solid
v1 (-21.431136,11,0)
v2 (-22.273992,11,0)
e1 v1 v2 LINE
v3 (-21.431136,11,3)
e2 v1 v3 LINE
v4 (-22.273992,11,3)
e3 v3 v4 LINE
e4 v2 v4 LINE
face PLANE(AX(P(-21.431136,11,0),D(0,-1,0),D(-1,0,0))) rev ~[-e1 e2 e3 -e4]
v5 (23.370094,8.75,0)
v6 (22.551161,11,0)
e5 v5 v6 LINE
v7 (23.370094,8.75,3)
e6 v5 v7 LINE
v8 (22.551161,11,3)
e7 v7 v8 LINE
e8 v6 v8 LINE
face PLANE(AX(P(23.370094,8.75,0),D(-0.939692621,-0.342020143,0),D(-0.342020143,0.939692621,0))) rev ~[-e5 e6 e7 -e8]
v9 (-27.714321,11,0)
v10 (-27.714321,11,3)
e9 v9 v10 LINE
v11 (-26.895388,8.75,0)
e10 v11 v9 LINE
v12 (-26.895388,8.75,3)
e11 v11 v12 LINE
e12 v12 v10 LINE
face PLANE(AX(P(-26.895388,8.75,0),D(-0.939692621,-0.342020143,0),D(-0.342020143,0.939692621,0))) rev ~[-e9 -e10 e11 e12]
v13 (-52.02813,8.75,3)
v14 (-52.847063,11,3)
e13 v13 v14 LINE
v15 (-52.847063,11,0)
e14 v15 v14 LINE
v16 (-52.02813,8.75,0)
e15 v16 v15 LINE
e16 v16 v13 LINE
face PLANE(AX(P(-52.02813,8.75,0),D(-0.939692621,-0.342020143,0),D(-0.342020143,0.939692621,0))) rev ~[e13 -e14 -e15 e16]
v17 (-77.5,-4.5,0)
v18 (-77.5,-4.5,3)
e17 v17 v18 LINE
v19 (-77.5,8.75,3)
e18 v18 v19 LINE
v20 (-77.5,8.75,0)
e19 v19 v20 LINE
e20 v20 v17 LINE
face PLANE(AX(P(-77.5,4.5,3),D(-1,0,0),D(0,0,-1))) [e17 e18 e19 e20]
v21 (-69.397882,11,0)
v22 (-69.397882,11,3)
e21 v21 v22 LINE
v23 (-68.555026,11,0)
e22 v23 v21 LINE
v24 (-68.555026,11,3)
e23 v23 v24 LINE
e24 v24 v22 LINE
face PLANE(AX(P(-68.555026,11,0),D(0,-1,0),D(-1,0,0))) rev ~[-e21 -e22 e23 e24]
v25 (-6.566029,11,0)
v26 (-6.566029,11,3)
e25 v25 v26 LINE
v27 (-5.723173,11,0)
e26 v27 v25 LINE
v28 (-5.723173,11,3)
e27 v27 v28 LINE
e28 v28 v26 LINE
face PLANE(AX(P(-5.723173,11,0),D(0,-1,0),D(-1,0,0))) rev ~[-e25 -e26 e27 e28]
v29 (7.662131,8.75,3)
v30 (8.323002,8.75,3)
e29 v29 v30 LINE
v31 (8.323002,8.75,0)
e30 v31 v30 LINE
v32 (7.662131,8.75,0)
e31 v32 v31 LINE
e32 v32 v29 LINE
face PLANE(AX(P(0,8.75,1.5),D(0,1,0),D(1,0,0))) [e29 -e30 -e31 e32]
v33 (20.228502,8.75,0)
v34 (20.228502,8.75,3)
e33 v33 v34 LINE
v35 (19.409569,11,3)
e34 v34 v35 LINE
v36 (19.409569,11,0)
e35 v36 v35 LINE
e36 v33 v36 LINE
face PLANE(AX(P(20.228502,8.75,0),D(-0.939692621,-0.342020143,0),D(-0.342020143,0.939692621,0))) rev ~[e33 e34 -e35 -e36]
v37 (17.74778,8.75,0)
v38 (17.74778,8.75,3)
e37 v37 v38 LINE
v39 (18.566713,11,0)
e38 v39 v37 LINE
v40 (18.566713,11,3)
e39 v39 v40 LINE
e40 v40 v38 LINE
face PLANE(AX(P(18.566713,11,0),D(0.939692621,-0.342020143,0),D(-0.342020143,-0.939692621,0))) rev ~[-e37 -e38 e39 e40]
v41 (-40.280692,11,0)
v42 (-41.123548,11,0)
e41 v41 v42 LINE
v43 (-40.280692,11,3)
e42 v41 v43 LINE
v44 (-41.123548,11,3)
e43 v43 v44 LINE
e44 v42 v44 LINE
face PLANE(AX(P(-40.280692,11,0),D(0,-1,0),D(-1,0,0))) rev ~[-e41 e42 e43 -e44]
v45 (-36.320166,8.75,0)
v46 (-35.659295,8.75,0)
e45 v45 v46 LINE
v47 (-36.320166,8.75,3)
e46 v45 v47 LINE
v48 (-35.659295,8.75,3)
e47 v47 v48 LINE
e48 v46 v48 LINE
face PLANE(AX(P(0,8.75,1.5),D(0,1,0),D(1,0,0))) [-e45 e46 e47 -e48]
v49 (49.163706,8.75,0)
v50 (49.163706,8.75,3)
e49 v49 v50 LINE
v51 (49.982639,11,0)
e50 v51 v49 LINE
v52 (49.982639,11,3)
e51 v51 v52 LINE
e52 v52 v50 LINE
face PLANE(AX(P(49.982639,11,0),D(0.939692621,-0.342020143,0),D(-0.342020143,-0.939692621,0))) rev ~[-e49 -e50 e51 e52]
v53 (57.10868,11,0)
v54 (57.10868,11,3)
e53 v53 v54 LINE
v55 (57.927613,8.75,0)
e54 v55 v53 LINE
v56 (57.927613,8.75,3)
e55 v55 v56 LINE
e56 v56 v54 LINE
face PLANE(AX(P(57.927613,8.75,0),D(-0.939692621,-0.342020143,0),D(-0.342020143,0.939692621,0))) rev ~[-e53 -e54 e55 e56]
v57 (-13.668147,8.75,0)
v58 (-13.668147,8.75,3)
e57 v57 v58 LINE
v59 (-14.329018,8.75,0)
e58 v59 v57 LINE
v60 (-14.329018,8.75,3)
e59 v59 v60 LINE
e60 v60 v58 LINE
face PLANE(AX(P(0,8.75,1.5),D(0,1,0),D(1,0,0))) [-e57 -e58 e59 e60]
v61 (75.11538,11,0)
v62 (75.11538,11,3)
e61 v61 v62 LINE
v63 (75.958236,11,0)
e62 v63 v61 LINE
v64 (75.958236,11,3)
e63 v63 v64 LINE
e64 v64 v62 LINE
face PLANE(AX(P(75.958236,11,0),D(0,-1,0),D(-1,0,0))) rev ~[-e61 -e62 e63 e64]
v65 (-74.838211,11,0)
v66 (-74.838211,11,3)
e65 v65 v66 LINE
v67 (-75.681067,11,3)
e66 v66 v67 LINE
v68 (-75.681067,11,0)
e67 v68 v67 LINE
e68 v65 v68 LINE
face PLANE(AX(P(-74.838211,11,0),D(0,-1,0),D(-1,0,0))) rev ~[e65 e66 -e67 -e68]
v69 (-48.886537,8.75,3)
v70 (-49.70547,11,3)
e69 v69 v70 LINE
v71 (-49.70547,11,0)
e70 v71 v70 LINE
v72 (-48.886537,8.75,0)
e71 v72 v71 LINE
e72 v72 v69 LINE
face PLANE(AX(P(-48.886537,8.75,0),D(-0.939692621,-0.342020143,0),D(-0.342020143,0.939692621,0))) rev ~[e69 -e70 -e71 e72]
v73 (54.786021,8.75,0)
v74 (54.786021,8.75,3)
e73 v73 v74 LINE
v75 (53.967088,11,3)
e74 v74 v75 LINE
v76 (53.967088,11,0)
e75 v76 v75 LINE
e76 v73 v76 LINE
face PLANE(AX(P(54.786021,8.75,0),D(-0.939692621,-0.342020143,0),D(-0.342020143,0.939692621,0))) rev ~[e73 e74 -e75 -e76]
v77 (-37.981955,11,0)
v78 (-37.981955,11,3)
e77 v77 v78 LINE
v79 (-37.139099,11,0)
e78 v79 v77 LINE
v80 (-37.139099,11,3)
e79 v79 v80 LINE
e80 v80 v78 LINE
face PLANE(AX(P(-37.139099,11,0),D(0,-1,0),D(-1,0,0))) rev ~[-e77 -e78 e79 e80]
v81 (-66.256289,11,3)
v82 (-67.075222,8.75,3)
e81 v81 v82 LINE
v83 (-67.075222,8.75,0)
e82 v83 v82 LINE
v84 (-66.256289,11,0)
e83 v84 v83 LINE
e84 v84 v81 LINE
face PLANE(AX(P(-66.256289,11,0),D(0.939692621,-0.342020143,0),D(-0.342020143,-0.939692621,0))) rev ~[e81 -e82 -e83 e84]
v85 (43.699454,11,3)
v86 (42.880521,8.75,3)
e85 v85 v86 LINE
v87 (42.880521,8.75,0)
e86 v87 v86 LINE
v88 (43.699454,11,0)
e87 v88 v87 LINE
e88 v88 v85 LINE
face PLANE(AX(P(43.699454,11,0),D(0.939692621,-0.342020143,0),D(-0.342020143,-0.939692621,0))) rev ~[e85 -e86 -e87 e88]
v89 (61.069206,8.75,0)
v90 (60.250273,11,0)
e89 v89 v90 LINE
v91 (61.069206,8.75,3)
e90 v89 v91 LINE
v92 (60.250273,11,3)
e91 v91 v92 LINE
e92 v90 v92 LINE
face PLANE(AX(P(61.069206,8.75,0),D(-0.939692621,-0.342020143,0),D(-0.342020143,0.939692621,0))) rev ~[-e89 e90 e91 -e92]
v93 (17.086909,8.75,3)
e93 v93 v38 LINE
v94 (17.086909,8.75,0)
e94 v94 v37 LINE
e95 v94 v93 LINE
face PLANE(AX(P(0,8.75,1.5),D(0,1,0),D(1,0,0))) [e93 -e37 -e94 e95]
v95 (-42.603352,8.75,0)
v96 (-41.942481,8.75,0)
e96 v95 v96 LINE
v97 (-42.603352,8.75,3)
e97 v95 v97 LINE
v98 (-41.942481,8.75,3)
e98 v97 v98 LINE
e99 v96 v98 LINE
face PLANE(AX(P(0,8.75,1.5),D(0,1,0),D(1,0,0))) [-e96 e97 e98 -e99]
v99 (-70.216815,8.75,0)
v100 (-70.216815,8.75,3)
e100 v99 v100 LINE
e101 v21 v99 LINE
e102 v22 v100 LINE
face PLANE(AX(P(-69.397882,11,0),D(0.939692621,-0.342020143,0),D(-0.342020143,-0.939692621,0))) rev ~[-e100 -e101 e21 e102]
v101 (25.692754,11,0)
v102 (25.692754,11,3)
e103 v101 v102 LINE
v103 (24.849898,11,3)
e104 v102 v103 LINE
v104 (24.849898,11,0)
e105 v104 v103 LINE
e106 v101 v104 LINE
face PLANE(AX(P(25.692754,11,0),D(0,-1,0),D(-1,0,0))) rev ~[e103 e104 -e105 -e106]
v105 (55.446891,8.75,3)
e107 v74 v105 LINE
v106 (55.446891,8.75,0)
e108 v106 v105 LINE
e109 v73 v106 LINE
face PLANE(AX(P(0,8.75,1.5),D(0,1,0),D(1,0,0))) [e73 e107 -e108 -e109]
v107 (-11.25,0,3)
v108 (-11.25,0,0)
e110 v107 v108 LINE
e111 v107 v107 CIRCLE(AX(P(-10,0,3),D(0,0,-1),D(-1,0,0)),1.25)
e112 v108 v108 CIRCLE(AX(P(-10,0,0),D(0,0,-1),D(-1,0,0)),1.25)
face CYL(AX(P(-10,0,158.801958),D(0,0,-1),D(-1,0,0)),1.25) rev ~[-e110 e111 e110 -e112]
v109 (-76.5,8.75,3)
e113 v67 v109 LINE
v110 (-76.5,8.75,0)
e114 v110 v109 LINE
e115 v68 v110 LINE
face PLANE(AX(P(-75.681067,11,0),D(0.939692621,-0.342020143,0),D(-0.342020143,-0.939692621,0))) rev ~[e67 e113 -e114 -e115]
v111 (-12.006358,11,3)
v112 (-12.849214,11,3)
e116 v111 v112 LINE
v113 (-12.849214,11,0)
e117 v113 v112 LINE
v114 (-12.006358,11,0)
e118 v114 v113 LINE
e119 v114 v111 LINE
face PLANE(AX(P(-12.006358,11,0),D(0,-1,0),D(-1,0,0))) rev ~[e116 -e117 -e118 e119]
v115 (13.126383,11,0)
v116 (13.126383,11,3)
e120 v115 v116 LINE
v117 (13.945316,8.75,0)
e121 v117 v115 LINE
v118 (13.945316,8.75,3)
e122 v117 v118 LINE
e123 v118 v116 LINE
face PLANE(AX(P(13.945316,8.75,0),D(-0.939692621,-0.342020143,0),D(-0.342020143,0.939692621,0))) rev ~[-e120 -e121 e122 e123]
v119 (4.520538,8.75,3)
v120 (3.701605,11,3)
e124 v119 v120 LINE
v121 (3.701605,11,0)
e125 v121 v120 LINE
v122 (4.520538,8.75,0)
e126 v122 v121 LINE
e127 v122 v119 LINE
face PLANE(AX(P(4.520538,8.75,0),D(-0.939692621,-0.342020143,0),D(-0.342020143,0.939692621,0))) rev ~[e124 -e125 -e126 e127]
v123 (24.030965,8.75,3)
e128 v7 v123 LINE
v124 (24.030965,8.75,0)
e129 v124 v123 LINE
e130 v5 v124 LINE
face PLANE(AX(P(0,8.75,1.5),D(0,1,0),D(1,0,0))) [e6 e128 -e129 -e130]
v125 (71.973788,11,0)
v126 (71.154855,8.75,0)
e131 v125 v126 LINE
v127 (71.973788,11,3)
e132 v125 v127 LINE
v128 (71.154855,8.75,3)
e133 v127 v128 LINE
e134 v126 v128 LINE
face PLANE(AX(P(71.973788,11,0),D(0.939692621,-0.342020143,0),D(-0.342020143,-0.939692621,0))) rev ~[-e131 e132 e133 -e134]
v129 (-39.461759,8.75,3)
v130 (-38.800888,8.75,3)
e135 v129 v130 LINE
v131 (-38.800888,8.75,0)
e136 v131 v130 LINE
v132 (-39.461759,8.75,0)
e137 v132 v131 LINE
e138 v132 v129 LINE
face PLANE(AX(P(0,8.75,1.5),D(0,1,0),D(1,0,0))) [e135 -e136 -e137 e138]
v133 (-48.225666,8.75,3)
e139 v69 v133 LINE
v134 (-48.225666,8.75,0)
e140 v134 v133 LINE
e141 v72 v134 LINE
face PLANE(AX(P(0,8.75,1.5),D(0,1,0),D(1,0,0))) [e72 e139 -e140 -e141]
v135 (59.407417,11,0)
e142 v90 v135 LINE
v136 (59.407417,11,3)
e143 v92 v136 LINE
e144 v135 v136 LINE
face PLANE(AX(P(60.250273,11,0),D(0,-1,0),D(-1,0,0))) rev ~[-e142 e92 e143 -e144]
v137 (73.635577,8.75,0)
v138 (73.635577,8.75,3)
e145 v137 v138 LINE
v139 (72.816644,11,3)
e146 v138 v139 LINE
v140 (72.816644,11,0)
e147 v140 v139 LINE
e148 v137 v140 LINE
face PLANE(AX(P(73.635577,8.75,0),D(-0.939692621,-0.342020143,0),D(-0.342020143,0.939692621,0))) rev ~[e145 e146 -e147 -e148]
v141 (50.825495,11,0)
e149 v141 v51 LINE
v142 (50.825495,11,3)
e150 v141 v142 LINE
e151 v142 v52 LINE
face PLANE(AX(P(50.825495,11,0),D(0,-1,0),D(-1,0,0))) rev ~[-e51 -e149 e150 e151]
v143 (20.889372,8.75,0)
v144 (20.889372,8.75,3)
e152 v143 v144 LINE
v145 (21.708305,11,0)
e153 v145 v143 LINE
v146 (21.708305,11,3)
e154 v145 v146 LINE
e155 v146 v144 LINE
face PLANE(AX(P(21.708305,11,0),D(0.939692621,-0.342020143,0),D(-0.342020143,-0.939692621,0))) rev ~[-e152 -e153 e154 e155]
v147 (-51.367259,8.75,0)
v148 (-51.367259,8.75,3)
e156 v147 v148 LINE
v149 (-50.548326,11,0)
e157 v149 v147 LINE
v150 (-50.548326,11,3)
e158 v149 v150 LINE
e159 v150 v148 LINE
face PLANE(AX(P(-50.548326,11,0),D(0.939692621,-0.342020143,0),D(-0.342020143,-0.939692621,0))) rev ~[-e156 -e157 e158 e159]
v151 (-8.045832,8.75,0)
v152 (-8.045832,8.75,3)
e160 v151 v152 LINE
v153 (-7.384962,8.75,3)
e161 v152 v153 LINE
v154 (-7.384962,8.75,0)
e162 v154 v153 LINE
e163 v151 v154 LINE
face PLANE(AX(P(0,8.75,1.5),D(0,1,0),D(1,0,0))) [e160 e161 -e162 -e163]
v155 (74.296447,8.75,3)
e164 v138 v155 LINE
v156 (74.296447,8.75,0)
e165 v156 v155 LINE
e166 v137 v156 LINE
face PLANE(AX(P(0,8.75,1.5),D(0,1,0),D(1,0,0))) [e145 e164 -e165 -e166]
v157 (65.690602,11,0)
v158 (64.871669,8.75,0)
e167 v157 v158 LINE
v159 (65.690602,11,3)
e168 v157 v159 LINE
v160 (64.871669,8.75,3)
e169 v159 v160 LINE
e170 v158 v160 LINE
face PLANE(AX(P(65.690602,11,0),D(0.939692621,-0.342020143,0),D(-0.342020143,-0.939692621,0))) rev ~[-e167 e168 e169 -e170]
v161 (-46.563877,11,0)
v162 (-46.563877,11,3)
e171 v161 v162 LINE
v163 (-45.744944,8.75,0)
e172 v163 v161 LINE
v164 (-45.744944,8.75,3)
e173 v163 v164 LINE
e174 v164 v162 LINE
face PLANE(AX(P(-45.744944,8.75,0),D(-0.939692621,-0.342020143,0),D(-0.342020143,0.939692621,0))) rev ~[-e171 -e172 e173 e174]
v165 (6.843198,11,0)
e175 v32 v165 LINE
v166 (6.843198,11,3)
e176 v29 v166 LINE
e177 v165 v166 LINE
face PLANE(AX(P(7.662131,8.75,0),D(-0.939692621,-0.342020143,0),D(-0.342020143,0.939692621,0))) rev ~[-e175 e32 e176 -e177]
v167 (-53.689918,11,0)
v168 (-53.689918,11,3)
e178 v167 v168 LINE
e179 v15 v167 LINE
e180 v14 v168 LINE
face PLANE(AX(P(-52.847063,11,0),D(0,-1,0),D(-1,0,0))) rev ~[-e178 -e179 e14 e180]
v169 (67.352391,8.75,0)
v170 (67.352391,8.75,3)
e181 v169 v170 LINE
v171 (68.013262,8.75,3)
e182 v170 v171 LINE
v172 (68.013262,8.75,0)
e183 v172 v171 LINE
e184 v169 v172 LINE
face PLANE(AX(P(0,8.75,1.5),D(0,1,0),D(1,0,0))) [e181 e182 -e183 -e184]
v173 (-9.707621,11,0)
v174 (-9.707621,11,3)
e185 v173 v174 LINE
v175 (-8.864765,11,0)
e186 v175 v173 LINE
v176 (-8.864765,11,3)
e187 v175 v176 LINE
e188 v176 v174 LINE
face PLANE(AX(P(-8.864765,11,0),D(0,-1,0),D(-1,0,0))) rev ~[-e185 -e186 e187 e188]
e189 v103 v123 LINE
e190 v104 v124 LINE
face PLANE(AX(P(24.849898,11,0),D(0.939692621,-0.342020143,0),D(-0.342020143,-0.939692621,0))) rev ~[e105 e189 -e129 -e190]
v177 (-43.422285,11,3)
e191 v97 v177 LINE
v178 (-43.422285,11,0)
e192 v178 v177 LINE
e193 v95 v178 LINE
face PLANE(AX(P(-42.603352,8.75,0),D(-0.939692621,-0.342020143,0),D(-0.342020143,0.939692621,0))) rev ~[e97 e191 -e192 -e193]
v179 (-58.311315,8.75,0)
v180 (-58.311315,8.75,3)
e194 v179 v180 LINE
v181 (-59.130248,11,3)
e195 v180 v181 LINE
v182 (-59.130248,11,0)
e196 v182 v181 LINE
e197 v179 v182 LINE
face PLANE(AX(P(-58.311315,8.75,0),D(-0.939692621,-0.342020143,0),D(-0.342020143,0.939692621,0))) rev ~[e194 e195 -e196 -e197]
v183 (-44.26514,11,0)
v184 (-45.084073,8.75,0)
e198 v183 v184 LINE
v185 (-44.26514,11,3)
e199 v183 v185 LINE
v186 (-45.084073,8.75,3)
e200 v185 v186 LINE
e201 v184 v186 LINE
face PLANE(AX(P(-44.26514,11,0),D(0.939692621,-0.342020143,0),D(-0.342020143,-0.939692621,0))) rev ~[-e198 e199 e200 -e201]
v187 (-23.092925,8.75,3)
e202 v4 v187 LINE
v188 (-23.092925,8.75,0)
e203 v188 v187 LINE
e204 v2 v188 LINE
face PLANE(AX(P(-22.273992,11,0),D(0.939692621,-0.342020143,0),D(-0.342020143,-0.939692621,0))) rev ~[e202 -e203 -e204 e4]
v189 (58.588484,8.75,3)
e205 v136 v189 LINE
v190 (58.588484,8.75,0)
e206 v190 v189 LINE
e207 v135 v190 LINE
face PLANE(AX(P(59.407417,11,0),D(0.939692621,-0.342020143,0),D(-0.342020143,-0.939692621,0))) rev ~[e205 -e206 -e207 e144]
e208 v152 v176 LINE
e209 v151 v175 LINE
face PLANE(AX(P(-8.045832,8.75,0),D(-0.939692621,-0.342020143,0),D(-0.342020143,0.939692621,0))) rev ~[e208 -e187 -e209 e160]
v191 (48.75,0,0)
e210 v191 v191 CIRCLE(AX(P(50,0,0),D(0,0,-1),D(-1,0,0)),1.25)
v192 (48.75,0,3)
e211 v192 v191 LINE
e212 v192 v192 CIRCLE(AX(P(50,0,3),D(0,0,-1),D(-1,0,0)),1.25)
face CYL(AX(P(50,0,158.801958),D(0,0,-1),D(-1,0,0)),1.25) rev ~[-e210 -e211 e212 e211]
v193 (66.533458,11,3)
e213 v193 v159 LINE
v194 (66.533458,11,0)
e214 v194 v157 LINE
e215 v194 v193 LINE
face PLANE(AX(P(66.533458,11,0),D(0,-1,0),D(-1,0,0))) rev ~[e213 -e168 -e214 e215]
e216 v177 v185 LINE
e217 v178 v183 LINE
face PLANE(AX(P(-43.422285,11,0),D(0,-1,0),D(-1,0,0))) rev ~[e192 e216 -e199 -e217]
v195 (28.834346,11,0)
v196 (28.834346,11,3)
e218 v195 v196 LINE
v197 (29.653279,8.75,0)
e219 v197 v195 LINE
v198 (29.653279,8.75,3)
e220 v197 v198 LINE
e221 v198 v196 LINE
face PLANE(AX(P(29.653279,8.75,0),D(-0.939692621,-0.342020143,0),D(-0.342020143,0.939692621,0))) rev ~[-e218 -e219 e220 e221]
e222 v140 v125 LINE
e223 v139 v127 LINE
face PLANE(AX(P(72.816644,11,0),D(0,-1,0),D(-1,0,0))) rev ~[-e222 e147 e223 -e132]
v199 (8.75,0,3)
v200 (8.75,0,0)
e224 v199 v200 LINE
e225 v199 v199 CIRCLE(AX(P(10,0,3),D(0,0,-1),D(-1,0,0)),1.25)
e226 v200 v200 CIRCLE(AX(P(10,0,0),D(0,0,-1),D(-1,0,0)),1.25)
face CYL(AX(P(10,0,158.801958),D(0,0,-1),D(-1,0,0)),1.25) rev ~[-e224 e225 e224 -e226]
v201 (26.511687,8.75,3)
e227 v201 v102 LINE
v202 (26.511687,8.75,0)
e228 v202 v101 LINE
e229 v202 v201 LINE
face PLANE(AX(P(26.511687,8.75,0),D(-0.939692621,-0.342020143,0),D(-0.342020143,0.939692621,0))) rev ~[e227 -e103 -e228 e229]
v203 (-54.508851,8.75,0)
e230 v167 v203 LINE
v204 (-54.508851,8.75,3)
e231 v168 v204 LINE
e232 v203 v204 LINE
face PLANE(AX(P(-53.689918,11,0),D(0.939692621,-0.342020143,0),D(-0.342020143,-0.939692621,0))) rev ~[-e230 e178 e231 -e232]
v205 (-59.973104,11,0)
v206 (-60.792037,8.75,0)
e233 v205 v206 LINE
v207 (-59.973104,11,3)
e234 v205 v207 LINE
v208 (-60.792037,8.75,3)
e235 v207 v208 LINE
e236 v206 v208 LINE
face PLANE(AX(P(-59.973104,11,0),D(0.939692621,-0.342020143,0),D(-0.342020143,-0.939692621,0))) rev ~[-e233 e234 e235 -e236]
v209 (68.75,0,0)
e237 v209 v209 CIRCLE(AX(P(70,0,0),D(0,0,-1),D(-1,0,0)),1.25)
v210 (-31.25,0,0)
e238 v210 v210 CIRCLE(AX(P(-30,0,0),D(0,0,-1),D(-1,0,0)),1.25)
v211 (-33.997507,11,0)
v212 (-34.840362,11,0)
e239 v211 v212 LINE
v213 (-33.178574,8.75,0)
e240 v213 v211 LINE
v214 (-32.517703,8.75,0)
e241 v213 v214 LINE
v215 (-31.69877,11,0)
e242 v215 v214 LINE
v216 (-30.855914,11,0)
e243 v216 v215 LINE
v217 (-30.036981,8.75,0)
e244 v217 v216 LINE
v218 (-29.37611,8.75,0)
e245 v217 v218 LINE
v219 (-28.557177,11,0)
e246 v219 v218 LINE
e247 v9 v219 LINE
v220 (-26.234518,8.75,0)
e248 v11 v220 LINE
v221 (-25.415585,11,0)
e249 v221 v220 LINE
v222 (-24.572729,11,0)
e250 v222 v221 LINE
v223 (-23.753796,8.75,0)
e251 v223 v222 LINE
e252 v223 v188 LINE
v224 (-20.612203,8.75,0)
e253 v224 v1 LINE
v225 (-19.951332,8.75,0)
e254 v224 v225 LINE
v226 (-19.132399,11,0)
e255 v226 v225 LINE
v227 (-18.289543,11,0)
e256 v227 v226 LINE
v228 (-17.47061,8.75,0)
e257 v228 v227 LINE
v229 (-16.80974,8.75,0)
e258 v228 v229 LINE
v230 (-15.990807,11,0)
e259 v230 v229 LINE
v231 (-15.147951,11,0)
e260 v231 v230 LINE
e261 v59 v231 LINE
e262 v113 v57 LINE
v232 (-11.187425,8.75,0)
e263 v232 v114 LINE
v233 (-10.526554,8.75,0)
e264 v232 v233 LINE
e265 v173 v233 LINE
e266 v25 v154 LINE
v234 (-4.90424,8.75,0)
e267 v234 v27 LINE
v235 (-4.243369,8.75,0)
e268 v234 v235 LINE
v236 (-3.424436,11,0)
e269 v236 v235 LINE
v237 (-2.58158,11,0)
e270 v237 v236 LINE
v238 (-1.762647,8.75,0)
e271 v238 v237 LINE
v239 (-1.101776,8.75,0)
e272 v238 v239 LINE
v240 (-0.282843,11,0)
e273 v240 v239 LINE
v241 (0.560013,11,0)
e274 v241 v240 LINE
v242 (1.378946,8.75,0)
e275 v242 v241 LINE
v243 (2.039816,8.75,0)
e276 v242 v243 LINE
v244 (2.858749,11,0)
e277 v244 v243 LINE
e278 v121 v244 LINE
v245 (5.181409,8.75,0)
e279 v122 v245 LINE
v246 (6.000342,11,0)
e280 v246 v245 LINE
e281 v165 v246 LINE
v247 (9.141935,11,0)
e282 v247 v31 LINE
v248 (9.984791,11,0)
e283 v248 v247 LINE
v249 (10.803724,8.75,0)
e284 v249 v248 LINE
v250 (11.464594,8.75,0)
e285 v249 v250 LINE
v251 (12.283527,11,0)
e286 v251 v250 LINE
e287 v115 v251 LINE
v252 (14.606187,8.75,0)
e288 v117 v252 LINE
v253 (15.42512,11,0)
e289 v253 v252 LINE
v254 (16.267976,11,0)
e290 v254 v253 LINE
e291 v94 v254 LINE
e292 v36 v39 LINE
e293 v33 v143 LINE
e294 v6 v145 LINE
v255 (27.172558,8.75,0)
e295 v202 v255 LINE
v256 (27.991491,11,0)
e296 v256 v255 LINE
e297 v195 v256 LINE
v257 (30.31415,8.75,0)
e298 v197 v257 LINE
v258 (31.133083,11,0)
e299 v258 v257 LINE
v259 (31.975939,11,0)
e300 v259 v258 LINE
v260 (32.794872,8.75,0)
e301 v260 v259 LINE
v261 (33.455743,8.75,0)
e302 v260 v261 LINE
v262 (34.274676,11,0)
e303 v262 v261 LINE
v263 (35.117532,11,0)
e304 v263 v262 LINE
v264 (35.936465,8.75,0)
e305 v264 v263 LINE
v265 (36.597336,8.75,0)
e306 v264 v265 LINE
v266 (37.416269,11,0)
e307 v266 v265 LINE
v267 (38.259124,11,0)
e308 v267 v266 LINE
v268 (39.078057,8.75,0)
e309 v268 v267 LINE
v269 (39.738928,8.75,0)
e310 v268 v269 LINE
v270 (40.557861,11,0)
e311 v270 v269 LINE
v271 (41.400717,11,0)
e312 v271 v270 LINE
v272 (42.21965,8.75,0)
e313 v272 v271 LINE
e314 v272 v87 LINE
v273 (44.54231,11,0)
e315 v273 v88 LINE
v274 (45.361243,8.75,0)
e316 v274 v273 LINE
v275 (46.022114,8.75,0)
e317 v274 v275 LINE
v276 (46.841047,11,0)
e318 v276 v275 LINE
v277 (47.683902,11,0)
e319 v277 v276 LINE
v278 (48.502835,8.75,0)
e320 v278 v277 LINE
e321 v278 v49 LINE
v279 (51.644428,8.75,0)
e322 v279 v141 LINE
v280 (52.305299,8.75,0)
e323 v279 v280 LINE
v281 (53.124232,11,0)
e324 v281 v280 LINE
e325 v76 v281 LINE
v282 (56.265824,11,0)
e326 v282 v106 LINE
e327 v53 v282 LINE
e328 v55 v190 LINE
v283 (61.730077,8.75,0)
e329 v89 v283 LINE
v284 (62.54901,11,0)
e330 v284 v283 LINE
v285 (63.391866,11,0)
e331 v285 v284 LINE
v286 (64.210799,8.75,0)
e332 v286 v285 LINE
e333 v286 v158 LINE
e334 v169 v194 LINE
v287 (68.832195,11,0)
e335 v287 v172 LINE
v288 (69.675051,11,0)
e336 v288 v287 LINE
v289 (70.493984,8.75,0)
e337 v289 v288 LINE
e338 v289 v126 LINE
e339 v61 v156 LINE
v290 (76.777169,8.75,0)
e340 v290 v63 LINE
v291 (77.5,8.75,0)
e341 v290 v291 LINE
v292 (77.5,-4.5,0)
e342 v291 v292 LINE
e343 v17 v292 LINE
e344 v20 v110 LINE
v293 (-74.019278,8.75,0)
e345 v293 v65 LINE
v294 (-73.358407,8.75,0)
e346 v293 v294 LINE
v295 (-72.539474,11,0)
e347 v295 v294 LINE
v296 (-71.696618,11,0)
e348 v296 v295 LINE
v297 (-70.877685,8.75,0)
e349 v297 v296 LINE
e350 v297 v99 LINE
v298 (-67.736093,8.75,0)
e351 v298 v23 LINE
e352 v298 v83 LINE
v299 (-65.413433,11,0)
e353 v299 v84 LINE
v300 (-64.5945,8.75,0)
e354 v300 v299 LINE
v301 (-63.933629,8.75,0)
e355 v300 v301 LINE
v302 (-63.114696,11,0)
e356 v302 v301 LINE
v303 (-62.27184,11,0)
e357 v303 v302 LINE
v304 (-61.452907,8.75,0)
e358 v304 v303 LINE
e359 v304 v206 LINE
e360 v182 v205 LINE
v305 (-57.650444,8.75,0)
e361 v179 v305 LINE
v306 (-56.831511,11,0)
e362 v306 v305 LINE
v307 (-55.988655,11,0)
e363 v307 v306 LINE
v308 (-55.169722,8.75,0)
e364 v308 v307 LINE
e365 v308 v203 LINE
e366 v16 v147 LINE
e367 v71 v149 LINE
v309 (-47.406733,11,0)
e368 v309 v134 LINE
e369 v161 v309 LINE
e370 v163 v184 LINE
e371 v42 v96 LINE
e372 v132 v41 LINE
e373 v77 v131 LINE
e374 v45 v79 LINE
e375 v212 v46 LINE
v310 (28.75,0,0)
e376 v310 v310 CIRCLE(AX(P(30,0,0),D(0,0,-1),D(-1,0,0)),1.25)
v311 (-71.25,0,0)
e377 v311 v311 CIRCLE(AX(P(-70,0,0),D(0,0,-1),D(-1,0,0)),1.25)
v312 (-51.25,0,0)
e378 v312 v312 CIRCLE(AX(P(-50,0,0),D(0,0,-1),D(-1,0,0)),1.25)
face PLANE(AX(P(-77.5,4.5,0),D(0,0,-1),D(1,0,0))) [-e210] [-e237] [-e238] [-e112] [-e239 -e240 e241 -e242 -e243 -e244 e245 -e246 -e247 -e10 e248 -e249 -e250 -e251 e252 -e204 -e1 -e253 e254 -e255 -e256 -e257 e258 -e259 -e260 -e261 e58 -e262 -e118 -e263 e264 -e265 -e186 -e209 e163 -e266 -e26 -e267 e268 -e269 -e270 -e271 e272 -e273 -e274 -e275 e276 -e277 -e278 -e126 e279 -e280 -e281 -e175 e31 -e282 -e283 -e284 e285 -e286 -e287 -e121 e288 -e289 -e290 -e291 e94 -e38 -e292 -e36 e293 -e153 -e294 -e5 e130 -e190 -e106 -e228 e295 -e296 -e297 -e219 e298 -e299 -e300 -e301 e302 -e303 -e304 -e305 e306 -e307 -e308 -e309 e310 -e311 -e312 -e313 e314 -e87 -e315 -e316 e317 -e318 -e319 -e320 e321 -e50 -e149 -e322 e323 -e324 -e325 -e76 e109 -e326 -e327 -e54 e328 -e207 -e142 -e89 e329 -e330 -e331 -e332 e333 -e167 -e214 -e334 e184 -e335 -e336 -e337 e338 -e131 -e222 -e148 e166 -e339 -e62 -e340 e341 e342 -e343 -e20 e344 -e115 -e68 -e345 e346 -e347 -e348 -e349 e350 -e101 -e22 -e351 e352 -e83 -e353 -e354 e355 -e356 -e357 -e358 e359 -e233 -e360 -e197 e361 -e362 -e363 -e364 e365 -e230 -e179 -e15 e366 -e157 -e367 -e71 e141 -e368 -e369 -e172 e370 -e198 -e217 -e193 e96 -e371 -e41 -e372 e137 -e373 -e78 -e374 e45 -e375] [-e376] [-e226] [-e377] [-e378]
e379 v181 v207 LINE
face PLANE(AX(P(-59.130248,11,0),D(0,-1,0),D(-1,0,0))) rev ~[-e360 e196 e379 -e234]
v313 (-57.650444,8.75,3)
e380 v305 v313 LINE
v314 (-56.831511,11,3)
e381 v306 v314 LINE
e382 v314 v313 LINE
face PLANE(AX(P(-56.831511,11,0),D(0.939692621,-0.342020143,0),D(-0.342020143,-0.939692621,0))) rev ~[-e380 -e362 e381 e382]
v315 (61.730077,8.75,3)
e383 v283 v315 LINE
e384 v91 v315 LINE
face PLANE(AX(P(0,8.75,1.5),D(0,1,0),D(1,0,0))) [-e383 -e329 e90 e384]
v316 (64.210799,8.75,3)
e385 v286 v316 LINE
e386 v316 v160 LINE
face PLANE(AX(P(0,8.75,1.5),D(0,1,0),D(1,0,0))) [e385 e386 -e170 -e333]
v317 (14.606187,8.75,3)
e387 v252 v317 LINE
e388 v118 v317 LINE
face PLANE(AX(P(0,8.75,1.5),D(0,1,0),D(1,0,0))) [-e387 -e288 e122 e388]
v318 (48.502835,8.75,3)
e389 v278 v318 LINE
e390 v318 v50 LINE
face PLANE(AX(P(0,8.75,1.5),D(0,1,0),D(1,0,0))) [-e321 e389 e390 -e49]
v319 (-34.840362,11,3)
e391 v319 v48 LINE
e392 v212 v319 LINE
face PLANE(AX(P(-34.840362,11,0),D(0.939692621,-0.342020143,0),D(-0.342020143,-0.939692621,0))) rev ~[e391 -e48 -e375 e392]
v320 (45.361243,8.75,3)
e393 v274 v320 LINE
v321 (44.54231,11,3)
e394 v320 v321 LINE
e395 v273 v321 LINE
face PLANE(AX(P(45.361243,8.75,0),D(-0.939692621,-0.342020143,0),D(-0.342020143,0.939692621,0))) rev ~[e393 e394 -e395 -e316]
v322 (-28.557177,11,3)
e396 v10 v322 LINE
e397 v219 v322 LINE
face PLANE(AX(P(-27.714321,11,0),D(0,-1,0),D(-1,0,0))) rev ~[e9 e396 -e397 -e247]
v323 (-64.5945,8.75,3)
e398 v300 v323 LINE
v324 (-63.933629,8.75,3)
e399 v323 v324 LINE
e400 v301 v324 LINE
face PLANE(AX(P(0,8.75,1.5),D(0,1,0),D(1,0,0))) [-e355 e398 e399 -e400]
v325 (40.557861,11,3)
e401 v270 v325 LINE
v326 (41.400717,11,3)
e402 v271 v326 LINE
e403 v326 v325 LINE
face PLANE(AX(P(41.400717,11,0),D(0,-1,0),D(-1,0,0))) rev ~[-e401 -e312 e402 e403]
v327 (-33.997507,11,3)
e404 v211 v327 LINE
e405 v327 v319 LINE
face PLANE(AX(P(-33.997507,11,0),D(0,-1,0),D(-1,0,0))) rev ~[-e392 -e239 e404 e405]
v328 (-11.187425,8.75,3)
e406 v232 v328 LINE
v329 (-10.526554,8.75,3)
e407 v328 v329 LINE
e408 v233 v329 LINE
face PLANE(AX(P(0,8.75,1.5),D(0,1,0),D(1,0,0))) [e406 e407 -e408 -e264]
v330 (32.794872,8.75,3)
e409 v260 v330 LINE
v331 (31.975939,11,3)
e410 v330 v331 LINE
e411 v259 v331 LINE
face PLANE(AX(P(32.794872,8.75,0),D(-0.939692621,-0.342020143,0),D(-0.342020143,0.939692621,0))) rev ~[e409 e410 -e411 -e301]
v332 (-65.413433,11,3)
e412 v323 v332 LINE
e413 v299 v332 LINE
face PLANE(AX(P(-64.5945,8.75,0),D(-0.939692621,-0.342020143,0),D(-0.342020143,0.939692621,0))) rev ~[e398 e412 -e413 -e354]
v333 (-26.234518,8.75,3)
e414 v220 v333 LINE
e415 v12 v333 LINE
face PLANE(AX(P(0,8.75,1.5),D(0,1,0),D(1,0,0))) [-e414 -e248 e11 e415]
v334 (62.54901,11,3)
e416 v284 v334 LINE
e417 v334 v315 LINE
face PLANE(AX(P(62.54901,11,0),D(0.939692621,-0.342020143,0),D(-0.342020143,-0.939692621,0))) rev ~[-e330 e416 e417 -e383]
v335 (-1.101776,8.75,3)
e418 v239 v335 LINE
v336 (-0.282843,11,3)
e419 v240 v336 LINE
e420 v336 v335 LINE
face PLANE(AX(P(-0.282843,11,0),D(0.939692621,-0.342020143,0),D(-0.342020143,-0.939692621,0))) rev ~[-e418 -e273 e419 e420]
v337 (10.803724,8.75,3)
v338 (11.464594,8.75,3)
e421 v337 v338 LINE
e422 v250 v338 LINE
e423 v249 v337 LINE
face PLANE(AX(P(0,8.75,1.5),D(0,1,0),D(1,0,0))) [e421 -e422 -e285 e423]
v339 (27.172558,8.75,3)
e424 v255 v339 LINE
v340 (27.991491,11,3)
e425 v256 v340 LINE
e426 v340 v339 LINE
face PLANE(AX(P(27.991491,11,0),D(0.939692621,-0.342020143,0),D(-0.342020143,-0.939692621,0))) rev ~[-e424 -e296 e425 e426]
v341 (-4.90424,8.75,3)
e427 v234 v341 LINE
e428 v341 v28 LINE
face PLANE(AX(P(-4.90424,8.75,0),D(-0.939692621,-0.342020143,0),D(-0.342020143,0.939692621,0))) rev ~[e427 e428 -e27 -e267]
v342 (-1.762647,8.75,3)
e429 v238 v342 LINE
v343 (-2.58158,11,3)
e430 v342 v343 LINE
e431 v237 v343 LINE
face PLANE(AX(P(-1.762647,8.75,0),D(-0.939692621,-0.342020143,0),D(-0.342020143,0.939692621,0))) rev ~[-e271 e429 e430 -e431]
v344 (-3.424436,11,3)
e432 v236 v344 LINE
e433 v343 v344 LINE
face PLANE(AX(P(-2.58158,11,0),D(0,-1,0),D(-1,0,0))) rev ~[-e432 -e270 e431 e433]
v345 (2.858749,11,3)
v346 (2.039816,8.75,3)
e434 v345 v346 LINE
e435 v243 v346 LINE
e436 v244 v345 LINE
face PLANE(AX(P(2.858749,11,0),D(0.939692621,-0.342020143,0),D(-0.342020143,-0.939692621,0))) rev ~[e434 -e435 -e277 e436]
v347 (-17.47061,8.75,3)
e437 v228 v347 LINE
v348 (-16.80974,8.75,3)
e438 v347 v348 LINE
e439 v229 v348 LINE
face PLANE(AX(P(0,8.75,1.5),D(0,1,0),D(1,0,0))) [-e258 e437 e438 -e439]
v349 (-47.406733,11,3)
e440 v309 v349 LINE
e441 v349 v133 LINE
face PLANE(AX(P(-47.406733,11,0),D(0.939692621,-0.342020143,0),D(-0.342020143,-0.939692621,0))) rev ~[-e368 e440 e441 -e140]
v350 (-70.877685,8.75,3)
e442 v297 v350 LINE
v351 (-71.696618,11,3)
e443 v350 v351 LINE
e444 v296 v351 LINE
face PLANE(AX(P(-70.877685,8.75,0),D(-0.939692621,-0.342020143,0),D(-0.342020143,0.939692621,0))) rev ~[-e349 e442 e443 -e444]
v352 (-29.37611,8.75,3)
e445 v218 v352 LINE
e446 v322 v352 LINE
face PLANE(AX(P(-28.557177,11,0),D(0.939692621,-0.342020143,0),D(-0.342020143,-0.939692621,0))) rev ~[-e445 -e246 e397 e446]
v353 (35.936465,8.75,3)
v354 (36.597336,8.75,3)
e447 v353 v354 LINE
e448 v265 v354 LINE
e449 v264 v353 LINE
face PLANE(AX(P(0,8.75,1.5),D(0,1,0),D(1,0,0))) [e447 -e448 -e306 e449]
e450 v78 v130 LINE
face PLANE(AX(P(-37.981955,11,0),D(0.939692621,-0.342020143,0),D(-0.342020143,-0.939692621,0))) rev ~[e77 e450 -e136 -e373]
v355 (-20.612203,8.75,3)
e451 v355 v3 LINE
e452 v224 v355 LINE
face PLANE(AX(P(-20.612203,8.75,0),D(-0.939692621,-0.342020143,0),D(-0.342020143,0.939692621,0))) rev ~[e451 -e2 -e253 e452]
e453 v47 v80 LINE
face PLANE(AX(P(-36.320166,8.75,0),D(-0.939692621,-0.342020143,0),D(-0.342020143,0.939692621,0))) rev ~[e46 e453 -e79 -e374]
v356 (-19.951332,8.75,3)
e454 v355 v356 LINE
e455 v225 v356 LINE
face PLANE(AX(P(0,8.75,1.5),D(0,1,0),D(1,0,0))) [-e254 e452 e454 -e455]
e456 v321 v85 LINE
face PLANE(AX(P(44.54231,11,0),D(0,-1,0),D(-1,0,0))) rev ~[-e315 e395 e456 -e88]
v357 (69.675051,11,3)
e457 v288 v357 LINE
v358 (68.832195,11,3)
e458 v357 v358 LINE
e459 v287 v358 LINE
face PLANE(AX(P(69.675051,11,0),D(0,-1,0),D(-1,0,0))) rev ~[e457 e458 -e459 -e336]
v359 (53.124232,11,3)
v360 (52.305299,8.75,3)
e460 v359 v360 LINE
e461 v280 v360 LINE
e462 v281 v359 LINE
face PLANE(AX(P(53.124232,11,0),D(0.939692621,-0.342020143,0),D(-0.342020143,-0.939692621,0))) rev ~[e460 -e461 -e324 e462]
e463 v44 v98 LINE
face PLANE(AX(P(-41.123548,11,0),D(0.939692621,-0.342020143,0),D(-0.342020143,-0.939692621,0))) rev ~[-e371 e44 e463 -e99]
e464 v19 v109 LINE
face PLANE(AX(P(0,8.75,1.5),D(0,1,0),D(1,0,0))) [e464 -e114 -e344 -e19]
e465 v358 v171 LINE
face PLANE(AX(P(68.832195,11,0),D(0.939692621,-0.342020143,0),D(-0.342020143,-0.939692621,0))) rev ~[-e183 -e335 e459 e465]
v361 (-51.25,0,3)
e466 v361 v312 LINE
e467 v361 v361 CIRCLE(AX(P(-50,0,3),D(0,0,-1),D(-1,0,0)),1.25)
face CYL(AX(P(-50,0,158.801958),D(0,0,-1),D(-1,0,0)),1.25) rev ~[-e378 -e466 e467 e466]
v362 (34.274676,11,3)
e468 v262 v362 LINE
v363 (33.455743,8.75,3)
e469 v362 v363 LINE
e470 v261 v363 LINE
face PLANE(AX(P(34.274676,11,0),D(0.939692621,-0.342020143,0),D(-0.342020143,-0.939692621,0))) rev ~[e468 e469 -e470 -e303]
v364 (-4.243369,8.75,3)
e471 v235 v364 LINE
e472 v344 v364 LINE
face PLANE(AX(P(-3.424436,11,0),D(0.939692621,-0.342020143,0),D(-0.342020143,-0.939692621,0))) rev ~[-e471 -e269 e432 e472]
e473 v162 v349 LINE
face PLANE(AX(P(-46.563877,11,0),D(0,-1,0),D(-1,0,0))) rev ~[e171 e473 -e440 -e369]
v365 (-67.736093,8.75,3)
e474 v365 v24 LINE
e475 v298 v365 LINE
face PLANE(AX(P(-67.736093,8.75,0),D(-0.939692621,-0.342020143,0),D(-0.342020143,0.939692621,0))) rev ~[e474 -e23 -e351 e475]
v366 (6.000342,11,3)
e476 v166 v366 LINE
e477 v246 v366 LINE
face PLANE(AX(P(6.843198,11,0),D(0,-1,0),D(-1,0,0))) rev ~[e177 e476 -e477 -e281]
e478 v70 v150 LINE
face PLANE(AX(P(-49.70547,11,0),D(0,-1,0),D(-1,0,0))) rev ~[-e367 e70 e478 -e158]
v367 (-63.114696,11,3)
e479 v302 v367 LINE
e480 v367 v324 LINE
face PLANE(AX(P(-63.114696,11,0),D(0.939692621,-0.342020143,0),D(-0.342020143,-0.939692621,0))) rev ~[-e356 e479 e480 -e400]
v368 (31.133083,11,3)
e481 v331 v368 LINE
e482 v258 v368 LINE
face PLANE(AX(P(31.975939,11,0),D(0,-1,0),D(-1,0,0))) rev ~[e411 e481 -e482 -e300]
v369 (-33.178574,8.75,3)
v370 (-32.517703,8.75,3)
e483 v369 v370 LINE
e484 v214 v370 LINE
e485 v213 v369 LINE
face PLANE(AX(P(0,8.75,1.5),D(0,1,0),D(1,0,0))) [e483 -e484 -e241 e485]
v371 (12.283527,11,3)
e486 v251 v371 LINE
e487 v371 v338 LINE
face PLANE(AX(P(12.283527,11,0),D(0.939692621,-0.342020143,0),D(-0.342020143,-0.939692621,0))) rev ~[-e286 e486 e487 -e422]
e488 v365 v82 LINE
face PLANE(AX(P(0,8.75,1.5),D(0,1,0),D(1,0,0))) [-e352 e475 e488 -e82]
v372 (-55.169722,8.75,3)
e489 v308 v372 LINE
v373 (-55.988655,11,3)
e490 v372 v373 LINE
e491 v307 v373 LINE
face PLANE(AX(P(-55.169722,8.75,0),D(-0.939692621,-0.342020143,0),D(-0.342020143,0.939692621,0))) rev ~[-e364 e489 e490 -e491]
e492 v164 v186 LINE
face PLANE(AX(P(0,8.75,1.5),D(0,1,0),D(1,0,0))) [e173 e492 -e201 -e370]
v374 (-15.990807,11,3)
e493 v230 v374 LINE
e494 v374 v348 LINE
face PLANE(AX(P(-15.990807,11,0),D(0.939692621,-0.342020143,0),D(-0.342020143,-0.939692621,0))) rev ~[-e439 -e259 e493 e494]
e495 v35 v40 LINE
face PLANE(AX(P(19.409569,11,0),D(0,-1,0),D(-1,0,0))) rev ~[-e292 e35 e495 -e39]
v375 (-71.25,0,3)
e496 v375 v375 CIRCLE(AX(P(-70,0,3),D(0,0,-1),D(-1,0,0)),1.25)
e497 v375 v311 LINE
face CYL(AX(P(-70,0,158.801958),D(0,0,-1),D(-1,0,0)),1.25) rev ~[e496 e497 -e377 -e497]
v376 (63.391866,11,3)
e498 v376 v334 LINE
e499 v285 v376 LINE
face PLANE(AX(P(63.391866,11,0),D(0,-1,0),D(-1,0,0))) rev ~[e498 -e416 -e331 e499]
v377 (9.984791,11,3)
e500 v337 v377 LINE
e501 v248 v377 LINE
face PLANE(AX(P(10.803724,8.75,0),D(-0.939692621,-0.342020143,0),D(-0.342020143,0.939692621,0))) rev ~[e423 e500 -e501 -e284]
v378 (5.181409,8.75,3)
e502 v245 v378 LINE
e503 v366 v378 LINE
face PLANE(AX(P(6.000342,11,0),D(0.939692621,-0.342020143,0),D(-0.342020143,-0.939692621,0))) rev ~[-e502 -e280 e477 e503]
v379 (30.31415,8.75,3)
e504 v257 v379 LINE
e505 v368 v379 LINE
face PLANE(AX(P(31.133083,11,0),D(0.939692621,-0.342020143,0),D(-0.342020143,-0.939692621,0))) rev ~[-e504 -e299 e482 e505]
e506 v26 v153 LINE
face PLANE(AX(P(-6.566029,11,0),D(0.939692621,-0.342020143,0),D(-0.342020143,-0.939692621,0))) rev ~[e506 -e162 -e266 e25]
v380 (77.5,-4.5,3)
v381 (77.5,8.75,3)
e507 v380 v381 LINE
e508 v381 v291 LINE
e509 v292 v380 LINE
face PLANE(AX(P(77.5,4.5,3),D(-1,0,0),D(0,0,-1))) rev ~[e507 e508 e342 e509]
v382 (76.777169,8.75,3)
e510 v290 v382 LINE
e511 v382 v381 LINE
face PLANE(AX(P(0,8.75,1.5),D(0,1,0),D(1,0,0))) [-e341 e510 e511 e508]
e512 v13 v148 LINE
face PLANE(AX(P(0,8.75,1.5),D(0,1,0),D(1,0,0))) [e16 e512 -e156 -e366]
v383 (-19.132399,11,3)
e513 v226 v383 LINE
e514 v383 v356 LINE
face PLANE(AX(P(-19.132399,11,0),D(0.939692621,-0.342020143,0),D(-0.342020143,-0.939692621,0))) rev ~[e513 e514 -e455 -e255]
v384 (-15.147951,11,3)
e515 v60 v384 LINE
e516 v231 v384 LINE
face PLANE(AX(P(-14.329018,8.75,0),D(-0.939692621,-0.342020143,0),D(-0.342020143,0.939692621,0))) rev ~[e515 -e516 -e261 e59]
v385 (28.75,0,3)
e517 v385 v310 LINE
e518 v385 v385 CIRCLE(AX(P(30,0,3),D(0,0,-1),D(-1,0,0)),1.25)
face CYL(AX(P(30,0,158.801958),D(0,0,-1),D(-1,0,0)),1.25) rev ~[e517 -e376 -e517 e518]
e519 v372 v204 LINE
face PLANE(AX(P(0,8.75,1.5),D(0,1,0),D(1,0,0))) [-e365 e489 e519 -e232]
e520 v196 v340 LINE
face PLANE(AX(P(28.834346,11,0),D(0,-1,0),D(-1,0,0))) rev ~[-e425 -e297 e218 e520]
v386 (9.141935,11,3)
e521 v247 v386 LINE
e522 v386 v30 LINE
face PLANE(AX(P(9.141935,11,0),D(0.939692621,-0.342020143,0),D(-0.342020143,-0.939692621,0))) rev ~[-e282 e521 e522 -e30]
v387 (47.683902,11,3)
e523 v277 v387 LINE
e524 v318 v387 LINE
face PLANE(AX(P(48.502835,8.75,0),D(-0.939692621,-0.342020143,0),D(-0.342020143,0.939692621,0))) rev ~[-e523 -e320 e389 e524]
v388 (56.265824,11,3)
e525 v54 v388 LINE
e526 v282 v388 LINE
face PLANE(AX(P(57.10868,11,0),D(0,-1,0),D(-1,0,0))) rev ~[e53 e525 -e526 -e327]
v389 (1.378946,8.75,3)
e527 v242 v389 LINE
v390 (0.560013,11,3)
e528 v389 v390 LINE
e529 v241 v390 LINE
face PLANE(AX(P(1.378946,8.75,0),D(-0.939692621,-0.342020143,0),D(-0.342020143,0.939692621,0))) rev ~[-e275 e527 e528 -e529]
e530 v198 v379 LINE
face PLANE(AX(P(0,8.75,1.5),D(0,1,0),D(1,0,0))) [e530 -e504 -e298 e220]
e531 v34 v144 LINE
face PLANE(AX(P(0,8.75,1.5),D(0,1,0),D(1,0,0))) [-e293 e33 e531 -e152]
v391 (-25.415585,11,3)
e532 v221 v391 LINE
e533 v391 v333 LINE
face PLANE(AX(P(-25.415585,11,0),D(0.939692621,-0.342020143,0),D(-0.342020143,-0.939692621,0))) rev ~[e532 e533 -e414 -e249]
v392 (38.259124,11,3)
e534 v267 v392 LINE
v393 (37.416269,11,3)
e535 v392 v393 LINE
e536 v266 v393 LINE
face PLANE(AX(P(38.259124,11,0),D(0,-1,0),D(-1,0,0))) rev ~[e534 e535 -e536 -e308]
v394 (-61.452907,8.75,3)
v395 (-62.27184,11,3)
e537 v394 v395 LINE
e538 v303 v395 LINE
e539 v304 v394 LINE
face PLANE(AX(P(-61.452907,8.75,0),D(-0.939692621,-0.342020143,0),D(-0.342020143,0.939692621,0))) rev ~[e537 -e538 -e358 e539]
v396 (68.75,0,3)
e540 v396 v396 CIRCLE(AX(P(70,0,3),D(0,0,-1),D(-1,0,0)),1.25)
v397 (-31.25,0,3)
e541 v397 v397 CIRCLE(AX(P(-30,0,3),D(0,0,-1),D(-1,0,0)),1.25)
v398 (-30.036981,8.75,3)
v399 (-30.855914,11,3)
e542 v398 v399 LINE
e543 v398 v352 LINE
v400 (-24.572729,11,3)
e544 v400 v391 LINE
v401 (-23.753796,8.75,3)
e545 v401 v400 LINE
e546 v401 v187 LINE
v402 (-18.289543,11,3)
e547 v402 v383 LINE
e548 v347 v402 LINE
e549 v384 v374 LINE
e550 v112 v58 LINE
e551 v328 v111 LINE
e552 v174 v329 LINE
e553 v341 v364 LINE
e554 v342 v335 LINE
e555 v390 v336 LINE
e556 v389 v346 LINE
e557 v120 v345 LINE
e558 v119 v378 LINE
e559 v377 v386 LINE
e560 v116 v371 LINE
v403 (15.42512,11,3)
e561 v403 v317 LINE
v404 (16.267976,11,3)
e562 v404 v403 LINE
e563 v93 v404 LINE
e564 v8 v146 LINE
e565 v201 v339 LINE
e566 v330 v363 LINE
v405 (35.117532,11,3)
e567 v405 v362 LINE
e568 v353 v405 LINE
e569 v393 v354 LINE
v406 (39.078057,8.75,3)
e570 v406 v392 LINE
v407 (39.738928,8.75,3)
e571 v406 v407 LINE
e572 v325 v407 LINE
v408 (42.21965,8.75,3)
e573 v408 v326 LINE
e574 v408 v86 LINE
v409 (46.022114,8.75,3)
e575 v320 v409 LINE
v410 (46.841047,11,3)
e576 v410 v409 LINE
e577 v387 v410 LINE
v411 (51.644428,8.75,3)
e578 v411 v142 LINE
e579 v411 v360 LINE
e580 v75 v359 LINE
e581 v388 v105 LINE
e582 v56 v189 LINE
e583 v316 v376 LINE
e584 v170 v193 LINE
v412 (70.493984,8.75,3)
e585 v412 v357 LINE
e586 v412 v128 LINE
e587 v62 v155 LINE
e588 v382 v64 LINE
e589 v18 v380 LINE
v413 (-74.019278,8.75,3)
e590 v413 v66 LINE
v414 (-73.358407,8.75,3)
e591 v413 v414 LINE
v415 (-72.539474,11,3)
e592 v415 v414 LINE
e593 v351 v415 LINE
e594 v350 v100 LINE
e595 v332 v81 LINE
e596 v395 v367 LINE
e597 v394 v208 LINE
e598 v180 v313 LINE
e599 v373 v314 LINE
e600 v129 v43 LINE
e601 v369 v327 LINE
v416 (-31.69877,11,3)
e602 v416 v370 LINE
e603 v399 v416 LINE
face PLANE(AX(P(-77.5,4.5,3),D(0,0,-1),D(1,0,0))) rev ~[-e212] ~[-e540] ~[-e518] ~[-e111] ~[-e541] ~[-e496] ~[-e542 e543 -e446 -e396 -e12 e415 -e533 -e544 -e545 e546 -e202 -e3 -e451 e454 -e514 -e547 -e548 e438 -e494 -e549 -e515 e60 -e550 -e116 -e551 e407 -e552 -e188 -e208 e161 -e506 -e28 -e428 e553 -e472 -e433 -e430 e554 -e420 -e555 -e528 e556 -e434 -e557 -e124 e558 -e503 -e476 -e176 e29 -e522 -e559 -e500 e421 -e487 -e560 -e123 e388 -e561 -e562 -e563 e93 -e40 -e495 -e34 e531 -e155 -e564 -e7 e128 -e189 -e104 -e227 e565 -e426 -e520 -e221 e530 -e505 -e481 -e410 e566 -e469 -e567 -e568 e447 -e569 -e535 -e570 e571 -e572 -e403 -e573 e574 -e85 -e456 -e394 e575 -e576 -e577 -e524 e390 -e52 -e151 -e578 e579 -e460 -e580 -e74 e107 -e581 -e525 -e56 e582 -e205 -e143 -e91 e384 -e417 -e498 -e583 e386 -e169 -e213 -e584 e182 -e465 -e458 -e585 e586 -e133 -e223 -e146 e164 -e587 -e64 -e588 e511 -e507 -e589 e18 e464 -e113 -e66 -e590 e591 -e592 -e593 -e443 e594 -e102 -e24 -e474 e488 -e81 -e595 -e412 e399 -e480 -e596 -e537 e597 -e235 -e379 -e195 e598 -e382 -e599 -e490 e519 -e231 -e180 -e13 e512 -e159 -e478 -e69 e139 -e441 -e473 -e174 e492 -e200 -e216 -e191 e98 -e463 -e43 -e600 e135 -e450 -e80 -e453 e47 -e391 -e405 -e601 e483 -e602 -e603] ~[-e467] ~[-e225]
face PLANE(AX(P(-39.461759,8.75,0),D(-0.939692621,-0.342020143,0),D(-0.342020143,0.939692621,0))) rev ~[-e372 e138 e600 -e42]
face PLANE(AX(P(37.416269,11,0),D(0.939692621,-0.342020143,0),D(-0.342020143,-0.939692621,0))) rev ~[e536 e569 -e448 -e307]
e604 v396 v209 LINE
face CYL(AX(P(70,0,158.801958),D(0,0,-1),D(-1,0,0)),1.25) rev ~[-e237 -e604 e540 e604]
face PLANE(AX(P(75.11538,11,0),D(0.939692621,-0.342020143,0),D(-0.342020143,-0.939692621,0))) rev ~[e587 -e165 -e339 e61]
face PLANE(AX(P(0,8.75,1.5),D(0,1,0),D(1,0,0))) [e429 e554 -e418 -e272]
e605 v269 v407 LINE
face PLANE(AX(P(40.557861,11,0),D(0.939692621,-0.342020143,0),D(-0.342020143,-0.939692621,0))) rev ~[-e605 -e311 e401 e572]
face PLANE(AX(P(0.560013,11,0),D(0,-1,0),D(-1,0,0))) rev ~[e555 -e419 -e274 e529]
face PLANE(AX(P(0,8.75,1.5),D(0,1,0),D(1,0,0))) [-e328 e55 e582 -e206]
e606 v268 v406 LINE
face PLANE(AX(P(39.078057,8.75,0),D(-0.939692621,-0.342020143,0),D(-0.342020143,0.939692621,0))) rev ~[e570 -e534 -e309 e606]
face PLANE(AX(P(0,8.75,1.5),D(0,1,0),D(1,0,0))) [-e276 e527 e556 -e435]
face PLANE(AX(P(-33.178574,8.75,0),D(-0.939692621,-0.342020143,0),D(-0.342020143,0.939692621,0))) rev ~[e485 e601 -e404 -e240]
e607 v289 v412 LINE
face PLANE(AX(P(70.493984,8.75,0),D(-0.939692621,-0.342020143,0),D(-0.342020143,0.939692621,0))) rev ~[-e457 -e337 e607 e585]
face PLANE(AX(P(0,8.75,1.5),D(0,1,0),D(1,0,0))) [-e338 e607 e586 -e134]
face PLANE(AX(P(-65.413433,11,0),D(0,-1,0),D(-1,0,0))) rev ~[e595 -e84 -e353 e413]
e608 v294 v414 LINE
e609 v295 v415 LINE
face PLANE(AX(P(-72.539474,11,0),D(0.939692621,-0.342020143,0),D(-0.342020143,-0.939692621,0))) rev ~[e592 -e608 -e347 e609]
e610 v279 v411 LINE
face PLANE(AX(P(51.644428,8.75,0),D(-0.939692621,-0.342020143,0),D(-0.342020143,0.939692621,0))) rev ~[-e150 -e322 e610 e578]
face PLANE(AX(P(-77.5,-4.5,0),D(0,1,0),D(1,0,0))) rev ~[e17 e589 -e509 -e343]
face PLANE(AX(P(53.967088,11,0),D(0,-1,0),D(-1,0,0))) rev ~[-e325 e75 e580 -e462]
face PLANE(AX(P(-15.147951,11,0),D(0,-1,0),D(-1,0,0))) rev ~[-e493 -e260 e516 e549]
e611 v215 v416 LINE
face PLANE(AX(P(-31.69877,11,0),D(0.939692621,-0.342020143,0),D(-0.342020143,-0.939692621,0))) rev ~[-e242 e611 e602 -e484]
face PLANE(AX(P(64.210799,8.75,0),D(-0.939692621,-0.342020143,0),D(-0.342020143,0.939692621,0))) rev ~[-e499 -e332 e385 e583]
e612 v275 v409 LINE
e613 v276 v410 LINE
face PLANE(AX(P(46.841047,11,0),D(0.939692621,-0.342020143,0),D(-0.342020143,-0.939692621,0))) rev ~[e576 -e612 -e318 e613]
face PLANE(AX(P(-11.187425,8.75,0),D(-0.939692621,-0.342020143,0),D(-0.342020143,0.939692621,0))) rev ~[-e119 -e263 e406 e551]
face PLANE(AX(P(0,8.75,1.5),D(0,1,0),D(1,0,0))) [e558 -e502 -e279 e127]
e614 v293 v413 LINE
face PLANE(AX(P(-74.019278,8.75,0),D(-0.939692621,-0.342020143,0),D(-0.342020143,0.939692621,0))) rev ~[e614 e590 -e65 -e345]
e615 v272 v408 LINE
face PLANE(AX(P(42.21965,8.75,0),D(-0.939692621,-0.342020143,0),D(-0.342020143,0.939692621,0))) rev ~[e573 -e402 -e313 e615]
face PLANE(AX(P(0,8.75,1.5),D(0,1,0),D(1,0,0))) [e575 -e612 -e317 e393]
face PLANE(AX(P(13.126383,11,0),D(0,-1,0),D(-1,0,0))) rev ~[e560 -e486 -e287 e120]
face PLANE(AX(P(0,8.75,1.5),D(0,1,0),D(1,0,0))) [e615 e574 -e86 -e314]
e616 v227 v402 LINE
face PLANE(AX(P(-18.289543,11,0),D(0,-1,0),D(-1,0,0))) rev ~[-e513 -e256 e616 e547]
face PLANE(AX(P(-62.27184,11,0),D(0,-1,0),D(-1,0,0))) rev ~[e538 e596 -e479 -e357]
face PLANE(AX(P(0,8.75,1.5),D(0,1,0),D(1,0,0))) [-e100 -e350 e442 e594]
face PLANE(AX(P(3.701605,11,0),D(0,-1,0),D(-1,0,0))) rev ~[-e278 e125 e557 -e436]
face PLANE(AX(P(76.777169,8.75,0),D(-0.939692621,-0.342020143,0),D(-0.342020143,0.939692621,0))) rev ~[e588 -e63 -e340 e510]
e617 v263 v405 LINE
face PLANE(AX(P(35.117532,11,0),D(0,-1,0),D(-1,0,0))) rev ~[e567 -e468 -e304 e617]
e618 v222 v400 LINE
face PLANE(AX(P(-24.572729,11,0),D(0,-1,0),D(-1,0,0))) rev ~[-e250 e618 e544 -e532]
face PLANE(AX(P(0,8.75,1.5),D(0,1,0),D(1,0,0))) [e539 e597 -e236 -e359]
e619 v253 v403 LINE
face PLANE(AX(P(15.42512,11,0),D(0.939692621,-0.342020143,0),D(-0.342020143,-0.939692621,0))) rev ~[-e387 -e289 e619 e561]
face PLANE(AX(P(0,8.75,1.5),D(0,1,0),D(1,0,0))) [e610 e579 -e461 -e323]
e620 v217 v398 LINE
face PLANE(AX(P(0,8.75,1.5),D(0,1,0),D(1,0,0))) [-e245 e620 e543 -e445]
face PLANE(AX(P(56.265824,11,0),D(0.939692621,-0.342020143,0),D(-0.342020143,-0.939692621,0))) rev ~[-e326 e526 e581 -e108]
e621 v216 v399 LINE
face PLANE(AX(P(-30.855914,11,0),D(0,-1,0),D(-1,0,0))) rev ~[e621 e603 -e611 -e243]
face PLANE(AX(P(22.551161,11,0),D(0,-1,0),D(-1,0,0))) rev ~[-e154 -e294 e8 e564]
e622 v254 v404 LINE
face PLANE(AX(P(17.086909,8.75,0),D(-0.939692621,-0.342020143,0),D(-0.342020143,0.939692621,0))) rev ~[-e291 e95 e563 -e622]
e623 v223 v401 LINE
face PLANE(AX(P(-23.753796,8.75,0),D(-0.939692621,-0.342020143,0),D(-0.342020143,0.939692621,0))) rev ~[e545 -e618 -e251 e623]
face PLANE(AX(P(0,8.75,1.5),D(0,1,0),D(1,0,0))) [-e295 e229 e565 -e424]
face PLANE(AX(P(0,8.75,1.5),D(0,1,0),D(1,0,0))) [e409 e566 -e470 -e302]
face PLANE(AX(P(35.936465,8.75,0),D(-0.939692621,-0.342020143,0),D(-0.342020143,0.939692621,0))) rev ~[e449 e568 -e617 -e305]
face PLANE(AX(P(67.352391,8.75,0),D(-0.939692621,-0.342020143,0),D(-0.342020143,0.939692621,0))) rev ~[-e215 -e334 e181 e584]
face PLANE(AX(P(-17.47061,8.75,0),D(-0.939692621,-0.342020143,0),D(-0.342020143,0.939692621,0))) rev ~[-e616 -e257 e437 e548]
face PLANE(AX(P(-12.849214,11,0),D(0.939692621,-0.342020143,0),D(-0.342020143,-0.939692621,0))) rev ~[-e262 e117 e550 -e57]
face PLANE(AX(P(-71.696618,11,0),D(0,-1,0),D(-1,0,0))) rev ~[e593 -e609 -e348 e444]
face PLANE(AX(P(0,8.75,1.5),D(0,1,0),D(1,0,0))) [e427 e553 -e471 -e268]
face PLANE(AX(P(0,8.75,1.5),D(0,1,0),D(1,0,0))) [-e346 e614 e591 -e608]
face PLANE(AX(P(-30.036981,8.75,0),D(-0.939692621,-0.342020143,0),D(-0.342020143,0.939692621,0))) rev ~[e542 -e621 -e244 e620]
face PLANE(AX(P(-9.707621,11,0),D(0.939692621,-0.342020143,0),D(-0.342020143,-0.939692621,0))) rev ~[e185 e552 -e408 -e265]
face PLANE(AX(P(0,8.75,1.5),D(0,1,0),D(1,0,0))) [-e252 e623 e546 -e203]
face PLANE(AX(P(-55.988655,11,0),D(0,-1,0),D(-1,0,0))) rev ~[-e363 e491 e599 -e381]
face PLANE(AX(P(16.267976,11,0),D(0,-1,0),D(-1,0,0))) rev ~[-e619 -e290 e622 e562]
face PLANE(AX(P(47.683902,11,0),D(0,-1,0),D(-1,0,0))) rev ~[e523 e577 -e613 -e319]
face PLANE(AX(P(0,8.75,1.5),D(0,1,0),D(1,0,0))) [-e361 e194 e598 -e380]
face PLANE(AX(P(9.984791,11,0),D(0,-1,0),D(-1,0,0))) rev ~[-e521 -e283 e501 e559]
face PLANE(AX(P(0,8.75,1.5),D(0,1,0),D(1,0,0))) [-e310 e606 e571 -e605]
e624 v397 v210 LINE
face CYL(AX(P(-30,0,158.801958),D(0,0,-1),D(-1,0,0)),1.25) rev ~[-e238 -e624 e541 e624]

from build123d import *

# Parameters (mm, degrees)
SKETCH_1_W             = 155
SKETCH_1_H             = 9
EXTRUDE_1_DEPTH        = 3
SKETCH_3_W             = 155
SKETCH_3_H             = 3
EXTRUDE_2_DEPTH        = 4.25
EXTRUDE_3_DEPTH        = 3
M3X0_5_1_D             = 2.5
PATTERN_LINEAR_1_COUNT = 49
PATTERN_LINEAR_1_PITCH = 3.141592654
PATTERN_LINEAR_2_COUNT = 8
PATTERN_LINEAR_2_PITCH = 20


with BuildPart() as part:
    # 草圖1 → 填料-伸長1 (new body)
    with BuildSketch(Plane.XY):
        Rectangle(SKETCH_1_W, SKETCH_1_H)
    extrude(amount=EXTRUDE_1_DEPTH)

    # 草圖3 → 填料-伸長2 (add)
    with BuildSketch(Plane(origin=(0, 4.5, 0), x_dir=(1, 0, 0), z_dir=(0, 1, 0))):
        with Locations((0, -1.5)):
            Rectangle(SKETCH_3_W, SKETCH_3_H)
    extrude(amount=EXTRUDE_2_DEPTH)

    # 草圖4 → 填料-伸長3 (add, through all)
    with BuildSketch(Plane.XY):
        Polygon((-76.5, 8.75), (-74.019278088, 8.75), (-74.838211115, 11), (-75.681066973, 11), align=None)
    extrude_3 = extrude(amount=EXTRUDE_3_DEPTH)

    # M3x0.5 螺紋孔1 (through all)
    with Locations(Plane.XY.offset(3)):
        with Locations((-70, 0)):
            m3x0_5_1 = Hole(M3X0_5_1_D / 2)

    # 直線複製排列1: 填料-伸長3 ×49
    with Locations(*[(i * PATTERN_LINEAR_1_PITCH, 0, 0) for i in range(1, PATTERN_LINEAR_1_COUNT)]):
        add(extrude_3)

    # 直線複製排列2: M3x0.5 螺紋孔1 ×8
    with Locations(*[(i * PATTERN_LINEAR_2_PITCH, 0, 0) for i in range(1, PATTERN_LINEAR_2_COUNT)]):
        add(m3x0_5_1, mode=Mode.SUBTRACT)


solid = part.part
